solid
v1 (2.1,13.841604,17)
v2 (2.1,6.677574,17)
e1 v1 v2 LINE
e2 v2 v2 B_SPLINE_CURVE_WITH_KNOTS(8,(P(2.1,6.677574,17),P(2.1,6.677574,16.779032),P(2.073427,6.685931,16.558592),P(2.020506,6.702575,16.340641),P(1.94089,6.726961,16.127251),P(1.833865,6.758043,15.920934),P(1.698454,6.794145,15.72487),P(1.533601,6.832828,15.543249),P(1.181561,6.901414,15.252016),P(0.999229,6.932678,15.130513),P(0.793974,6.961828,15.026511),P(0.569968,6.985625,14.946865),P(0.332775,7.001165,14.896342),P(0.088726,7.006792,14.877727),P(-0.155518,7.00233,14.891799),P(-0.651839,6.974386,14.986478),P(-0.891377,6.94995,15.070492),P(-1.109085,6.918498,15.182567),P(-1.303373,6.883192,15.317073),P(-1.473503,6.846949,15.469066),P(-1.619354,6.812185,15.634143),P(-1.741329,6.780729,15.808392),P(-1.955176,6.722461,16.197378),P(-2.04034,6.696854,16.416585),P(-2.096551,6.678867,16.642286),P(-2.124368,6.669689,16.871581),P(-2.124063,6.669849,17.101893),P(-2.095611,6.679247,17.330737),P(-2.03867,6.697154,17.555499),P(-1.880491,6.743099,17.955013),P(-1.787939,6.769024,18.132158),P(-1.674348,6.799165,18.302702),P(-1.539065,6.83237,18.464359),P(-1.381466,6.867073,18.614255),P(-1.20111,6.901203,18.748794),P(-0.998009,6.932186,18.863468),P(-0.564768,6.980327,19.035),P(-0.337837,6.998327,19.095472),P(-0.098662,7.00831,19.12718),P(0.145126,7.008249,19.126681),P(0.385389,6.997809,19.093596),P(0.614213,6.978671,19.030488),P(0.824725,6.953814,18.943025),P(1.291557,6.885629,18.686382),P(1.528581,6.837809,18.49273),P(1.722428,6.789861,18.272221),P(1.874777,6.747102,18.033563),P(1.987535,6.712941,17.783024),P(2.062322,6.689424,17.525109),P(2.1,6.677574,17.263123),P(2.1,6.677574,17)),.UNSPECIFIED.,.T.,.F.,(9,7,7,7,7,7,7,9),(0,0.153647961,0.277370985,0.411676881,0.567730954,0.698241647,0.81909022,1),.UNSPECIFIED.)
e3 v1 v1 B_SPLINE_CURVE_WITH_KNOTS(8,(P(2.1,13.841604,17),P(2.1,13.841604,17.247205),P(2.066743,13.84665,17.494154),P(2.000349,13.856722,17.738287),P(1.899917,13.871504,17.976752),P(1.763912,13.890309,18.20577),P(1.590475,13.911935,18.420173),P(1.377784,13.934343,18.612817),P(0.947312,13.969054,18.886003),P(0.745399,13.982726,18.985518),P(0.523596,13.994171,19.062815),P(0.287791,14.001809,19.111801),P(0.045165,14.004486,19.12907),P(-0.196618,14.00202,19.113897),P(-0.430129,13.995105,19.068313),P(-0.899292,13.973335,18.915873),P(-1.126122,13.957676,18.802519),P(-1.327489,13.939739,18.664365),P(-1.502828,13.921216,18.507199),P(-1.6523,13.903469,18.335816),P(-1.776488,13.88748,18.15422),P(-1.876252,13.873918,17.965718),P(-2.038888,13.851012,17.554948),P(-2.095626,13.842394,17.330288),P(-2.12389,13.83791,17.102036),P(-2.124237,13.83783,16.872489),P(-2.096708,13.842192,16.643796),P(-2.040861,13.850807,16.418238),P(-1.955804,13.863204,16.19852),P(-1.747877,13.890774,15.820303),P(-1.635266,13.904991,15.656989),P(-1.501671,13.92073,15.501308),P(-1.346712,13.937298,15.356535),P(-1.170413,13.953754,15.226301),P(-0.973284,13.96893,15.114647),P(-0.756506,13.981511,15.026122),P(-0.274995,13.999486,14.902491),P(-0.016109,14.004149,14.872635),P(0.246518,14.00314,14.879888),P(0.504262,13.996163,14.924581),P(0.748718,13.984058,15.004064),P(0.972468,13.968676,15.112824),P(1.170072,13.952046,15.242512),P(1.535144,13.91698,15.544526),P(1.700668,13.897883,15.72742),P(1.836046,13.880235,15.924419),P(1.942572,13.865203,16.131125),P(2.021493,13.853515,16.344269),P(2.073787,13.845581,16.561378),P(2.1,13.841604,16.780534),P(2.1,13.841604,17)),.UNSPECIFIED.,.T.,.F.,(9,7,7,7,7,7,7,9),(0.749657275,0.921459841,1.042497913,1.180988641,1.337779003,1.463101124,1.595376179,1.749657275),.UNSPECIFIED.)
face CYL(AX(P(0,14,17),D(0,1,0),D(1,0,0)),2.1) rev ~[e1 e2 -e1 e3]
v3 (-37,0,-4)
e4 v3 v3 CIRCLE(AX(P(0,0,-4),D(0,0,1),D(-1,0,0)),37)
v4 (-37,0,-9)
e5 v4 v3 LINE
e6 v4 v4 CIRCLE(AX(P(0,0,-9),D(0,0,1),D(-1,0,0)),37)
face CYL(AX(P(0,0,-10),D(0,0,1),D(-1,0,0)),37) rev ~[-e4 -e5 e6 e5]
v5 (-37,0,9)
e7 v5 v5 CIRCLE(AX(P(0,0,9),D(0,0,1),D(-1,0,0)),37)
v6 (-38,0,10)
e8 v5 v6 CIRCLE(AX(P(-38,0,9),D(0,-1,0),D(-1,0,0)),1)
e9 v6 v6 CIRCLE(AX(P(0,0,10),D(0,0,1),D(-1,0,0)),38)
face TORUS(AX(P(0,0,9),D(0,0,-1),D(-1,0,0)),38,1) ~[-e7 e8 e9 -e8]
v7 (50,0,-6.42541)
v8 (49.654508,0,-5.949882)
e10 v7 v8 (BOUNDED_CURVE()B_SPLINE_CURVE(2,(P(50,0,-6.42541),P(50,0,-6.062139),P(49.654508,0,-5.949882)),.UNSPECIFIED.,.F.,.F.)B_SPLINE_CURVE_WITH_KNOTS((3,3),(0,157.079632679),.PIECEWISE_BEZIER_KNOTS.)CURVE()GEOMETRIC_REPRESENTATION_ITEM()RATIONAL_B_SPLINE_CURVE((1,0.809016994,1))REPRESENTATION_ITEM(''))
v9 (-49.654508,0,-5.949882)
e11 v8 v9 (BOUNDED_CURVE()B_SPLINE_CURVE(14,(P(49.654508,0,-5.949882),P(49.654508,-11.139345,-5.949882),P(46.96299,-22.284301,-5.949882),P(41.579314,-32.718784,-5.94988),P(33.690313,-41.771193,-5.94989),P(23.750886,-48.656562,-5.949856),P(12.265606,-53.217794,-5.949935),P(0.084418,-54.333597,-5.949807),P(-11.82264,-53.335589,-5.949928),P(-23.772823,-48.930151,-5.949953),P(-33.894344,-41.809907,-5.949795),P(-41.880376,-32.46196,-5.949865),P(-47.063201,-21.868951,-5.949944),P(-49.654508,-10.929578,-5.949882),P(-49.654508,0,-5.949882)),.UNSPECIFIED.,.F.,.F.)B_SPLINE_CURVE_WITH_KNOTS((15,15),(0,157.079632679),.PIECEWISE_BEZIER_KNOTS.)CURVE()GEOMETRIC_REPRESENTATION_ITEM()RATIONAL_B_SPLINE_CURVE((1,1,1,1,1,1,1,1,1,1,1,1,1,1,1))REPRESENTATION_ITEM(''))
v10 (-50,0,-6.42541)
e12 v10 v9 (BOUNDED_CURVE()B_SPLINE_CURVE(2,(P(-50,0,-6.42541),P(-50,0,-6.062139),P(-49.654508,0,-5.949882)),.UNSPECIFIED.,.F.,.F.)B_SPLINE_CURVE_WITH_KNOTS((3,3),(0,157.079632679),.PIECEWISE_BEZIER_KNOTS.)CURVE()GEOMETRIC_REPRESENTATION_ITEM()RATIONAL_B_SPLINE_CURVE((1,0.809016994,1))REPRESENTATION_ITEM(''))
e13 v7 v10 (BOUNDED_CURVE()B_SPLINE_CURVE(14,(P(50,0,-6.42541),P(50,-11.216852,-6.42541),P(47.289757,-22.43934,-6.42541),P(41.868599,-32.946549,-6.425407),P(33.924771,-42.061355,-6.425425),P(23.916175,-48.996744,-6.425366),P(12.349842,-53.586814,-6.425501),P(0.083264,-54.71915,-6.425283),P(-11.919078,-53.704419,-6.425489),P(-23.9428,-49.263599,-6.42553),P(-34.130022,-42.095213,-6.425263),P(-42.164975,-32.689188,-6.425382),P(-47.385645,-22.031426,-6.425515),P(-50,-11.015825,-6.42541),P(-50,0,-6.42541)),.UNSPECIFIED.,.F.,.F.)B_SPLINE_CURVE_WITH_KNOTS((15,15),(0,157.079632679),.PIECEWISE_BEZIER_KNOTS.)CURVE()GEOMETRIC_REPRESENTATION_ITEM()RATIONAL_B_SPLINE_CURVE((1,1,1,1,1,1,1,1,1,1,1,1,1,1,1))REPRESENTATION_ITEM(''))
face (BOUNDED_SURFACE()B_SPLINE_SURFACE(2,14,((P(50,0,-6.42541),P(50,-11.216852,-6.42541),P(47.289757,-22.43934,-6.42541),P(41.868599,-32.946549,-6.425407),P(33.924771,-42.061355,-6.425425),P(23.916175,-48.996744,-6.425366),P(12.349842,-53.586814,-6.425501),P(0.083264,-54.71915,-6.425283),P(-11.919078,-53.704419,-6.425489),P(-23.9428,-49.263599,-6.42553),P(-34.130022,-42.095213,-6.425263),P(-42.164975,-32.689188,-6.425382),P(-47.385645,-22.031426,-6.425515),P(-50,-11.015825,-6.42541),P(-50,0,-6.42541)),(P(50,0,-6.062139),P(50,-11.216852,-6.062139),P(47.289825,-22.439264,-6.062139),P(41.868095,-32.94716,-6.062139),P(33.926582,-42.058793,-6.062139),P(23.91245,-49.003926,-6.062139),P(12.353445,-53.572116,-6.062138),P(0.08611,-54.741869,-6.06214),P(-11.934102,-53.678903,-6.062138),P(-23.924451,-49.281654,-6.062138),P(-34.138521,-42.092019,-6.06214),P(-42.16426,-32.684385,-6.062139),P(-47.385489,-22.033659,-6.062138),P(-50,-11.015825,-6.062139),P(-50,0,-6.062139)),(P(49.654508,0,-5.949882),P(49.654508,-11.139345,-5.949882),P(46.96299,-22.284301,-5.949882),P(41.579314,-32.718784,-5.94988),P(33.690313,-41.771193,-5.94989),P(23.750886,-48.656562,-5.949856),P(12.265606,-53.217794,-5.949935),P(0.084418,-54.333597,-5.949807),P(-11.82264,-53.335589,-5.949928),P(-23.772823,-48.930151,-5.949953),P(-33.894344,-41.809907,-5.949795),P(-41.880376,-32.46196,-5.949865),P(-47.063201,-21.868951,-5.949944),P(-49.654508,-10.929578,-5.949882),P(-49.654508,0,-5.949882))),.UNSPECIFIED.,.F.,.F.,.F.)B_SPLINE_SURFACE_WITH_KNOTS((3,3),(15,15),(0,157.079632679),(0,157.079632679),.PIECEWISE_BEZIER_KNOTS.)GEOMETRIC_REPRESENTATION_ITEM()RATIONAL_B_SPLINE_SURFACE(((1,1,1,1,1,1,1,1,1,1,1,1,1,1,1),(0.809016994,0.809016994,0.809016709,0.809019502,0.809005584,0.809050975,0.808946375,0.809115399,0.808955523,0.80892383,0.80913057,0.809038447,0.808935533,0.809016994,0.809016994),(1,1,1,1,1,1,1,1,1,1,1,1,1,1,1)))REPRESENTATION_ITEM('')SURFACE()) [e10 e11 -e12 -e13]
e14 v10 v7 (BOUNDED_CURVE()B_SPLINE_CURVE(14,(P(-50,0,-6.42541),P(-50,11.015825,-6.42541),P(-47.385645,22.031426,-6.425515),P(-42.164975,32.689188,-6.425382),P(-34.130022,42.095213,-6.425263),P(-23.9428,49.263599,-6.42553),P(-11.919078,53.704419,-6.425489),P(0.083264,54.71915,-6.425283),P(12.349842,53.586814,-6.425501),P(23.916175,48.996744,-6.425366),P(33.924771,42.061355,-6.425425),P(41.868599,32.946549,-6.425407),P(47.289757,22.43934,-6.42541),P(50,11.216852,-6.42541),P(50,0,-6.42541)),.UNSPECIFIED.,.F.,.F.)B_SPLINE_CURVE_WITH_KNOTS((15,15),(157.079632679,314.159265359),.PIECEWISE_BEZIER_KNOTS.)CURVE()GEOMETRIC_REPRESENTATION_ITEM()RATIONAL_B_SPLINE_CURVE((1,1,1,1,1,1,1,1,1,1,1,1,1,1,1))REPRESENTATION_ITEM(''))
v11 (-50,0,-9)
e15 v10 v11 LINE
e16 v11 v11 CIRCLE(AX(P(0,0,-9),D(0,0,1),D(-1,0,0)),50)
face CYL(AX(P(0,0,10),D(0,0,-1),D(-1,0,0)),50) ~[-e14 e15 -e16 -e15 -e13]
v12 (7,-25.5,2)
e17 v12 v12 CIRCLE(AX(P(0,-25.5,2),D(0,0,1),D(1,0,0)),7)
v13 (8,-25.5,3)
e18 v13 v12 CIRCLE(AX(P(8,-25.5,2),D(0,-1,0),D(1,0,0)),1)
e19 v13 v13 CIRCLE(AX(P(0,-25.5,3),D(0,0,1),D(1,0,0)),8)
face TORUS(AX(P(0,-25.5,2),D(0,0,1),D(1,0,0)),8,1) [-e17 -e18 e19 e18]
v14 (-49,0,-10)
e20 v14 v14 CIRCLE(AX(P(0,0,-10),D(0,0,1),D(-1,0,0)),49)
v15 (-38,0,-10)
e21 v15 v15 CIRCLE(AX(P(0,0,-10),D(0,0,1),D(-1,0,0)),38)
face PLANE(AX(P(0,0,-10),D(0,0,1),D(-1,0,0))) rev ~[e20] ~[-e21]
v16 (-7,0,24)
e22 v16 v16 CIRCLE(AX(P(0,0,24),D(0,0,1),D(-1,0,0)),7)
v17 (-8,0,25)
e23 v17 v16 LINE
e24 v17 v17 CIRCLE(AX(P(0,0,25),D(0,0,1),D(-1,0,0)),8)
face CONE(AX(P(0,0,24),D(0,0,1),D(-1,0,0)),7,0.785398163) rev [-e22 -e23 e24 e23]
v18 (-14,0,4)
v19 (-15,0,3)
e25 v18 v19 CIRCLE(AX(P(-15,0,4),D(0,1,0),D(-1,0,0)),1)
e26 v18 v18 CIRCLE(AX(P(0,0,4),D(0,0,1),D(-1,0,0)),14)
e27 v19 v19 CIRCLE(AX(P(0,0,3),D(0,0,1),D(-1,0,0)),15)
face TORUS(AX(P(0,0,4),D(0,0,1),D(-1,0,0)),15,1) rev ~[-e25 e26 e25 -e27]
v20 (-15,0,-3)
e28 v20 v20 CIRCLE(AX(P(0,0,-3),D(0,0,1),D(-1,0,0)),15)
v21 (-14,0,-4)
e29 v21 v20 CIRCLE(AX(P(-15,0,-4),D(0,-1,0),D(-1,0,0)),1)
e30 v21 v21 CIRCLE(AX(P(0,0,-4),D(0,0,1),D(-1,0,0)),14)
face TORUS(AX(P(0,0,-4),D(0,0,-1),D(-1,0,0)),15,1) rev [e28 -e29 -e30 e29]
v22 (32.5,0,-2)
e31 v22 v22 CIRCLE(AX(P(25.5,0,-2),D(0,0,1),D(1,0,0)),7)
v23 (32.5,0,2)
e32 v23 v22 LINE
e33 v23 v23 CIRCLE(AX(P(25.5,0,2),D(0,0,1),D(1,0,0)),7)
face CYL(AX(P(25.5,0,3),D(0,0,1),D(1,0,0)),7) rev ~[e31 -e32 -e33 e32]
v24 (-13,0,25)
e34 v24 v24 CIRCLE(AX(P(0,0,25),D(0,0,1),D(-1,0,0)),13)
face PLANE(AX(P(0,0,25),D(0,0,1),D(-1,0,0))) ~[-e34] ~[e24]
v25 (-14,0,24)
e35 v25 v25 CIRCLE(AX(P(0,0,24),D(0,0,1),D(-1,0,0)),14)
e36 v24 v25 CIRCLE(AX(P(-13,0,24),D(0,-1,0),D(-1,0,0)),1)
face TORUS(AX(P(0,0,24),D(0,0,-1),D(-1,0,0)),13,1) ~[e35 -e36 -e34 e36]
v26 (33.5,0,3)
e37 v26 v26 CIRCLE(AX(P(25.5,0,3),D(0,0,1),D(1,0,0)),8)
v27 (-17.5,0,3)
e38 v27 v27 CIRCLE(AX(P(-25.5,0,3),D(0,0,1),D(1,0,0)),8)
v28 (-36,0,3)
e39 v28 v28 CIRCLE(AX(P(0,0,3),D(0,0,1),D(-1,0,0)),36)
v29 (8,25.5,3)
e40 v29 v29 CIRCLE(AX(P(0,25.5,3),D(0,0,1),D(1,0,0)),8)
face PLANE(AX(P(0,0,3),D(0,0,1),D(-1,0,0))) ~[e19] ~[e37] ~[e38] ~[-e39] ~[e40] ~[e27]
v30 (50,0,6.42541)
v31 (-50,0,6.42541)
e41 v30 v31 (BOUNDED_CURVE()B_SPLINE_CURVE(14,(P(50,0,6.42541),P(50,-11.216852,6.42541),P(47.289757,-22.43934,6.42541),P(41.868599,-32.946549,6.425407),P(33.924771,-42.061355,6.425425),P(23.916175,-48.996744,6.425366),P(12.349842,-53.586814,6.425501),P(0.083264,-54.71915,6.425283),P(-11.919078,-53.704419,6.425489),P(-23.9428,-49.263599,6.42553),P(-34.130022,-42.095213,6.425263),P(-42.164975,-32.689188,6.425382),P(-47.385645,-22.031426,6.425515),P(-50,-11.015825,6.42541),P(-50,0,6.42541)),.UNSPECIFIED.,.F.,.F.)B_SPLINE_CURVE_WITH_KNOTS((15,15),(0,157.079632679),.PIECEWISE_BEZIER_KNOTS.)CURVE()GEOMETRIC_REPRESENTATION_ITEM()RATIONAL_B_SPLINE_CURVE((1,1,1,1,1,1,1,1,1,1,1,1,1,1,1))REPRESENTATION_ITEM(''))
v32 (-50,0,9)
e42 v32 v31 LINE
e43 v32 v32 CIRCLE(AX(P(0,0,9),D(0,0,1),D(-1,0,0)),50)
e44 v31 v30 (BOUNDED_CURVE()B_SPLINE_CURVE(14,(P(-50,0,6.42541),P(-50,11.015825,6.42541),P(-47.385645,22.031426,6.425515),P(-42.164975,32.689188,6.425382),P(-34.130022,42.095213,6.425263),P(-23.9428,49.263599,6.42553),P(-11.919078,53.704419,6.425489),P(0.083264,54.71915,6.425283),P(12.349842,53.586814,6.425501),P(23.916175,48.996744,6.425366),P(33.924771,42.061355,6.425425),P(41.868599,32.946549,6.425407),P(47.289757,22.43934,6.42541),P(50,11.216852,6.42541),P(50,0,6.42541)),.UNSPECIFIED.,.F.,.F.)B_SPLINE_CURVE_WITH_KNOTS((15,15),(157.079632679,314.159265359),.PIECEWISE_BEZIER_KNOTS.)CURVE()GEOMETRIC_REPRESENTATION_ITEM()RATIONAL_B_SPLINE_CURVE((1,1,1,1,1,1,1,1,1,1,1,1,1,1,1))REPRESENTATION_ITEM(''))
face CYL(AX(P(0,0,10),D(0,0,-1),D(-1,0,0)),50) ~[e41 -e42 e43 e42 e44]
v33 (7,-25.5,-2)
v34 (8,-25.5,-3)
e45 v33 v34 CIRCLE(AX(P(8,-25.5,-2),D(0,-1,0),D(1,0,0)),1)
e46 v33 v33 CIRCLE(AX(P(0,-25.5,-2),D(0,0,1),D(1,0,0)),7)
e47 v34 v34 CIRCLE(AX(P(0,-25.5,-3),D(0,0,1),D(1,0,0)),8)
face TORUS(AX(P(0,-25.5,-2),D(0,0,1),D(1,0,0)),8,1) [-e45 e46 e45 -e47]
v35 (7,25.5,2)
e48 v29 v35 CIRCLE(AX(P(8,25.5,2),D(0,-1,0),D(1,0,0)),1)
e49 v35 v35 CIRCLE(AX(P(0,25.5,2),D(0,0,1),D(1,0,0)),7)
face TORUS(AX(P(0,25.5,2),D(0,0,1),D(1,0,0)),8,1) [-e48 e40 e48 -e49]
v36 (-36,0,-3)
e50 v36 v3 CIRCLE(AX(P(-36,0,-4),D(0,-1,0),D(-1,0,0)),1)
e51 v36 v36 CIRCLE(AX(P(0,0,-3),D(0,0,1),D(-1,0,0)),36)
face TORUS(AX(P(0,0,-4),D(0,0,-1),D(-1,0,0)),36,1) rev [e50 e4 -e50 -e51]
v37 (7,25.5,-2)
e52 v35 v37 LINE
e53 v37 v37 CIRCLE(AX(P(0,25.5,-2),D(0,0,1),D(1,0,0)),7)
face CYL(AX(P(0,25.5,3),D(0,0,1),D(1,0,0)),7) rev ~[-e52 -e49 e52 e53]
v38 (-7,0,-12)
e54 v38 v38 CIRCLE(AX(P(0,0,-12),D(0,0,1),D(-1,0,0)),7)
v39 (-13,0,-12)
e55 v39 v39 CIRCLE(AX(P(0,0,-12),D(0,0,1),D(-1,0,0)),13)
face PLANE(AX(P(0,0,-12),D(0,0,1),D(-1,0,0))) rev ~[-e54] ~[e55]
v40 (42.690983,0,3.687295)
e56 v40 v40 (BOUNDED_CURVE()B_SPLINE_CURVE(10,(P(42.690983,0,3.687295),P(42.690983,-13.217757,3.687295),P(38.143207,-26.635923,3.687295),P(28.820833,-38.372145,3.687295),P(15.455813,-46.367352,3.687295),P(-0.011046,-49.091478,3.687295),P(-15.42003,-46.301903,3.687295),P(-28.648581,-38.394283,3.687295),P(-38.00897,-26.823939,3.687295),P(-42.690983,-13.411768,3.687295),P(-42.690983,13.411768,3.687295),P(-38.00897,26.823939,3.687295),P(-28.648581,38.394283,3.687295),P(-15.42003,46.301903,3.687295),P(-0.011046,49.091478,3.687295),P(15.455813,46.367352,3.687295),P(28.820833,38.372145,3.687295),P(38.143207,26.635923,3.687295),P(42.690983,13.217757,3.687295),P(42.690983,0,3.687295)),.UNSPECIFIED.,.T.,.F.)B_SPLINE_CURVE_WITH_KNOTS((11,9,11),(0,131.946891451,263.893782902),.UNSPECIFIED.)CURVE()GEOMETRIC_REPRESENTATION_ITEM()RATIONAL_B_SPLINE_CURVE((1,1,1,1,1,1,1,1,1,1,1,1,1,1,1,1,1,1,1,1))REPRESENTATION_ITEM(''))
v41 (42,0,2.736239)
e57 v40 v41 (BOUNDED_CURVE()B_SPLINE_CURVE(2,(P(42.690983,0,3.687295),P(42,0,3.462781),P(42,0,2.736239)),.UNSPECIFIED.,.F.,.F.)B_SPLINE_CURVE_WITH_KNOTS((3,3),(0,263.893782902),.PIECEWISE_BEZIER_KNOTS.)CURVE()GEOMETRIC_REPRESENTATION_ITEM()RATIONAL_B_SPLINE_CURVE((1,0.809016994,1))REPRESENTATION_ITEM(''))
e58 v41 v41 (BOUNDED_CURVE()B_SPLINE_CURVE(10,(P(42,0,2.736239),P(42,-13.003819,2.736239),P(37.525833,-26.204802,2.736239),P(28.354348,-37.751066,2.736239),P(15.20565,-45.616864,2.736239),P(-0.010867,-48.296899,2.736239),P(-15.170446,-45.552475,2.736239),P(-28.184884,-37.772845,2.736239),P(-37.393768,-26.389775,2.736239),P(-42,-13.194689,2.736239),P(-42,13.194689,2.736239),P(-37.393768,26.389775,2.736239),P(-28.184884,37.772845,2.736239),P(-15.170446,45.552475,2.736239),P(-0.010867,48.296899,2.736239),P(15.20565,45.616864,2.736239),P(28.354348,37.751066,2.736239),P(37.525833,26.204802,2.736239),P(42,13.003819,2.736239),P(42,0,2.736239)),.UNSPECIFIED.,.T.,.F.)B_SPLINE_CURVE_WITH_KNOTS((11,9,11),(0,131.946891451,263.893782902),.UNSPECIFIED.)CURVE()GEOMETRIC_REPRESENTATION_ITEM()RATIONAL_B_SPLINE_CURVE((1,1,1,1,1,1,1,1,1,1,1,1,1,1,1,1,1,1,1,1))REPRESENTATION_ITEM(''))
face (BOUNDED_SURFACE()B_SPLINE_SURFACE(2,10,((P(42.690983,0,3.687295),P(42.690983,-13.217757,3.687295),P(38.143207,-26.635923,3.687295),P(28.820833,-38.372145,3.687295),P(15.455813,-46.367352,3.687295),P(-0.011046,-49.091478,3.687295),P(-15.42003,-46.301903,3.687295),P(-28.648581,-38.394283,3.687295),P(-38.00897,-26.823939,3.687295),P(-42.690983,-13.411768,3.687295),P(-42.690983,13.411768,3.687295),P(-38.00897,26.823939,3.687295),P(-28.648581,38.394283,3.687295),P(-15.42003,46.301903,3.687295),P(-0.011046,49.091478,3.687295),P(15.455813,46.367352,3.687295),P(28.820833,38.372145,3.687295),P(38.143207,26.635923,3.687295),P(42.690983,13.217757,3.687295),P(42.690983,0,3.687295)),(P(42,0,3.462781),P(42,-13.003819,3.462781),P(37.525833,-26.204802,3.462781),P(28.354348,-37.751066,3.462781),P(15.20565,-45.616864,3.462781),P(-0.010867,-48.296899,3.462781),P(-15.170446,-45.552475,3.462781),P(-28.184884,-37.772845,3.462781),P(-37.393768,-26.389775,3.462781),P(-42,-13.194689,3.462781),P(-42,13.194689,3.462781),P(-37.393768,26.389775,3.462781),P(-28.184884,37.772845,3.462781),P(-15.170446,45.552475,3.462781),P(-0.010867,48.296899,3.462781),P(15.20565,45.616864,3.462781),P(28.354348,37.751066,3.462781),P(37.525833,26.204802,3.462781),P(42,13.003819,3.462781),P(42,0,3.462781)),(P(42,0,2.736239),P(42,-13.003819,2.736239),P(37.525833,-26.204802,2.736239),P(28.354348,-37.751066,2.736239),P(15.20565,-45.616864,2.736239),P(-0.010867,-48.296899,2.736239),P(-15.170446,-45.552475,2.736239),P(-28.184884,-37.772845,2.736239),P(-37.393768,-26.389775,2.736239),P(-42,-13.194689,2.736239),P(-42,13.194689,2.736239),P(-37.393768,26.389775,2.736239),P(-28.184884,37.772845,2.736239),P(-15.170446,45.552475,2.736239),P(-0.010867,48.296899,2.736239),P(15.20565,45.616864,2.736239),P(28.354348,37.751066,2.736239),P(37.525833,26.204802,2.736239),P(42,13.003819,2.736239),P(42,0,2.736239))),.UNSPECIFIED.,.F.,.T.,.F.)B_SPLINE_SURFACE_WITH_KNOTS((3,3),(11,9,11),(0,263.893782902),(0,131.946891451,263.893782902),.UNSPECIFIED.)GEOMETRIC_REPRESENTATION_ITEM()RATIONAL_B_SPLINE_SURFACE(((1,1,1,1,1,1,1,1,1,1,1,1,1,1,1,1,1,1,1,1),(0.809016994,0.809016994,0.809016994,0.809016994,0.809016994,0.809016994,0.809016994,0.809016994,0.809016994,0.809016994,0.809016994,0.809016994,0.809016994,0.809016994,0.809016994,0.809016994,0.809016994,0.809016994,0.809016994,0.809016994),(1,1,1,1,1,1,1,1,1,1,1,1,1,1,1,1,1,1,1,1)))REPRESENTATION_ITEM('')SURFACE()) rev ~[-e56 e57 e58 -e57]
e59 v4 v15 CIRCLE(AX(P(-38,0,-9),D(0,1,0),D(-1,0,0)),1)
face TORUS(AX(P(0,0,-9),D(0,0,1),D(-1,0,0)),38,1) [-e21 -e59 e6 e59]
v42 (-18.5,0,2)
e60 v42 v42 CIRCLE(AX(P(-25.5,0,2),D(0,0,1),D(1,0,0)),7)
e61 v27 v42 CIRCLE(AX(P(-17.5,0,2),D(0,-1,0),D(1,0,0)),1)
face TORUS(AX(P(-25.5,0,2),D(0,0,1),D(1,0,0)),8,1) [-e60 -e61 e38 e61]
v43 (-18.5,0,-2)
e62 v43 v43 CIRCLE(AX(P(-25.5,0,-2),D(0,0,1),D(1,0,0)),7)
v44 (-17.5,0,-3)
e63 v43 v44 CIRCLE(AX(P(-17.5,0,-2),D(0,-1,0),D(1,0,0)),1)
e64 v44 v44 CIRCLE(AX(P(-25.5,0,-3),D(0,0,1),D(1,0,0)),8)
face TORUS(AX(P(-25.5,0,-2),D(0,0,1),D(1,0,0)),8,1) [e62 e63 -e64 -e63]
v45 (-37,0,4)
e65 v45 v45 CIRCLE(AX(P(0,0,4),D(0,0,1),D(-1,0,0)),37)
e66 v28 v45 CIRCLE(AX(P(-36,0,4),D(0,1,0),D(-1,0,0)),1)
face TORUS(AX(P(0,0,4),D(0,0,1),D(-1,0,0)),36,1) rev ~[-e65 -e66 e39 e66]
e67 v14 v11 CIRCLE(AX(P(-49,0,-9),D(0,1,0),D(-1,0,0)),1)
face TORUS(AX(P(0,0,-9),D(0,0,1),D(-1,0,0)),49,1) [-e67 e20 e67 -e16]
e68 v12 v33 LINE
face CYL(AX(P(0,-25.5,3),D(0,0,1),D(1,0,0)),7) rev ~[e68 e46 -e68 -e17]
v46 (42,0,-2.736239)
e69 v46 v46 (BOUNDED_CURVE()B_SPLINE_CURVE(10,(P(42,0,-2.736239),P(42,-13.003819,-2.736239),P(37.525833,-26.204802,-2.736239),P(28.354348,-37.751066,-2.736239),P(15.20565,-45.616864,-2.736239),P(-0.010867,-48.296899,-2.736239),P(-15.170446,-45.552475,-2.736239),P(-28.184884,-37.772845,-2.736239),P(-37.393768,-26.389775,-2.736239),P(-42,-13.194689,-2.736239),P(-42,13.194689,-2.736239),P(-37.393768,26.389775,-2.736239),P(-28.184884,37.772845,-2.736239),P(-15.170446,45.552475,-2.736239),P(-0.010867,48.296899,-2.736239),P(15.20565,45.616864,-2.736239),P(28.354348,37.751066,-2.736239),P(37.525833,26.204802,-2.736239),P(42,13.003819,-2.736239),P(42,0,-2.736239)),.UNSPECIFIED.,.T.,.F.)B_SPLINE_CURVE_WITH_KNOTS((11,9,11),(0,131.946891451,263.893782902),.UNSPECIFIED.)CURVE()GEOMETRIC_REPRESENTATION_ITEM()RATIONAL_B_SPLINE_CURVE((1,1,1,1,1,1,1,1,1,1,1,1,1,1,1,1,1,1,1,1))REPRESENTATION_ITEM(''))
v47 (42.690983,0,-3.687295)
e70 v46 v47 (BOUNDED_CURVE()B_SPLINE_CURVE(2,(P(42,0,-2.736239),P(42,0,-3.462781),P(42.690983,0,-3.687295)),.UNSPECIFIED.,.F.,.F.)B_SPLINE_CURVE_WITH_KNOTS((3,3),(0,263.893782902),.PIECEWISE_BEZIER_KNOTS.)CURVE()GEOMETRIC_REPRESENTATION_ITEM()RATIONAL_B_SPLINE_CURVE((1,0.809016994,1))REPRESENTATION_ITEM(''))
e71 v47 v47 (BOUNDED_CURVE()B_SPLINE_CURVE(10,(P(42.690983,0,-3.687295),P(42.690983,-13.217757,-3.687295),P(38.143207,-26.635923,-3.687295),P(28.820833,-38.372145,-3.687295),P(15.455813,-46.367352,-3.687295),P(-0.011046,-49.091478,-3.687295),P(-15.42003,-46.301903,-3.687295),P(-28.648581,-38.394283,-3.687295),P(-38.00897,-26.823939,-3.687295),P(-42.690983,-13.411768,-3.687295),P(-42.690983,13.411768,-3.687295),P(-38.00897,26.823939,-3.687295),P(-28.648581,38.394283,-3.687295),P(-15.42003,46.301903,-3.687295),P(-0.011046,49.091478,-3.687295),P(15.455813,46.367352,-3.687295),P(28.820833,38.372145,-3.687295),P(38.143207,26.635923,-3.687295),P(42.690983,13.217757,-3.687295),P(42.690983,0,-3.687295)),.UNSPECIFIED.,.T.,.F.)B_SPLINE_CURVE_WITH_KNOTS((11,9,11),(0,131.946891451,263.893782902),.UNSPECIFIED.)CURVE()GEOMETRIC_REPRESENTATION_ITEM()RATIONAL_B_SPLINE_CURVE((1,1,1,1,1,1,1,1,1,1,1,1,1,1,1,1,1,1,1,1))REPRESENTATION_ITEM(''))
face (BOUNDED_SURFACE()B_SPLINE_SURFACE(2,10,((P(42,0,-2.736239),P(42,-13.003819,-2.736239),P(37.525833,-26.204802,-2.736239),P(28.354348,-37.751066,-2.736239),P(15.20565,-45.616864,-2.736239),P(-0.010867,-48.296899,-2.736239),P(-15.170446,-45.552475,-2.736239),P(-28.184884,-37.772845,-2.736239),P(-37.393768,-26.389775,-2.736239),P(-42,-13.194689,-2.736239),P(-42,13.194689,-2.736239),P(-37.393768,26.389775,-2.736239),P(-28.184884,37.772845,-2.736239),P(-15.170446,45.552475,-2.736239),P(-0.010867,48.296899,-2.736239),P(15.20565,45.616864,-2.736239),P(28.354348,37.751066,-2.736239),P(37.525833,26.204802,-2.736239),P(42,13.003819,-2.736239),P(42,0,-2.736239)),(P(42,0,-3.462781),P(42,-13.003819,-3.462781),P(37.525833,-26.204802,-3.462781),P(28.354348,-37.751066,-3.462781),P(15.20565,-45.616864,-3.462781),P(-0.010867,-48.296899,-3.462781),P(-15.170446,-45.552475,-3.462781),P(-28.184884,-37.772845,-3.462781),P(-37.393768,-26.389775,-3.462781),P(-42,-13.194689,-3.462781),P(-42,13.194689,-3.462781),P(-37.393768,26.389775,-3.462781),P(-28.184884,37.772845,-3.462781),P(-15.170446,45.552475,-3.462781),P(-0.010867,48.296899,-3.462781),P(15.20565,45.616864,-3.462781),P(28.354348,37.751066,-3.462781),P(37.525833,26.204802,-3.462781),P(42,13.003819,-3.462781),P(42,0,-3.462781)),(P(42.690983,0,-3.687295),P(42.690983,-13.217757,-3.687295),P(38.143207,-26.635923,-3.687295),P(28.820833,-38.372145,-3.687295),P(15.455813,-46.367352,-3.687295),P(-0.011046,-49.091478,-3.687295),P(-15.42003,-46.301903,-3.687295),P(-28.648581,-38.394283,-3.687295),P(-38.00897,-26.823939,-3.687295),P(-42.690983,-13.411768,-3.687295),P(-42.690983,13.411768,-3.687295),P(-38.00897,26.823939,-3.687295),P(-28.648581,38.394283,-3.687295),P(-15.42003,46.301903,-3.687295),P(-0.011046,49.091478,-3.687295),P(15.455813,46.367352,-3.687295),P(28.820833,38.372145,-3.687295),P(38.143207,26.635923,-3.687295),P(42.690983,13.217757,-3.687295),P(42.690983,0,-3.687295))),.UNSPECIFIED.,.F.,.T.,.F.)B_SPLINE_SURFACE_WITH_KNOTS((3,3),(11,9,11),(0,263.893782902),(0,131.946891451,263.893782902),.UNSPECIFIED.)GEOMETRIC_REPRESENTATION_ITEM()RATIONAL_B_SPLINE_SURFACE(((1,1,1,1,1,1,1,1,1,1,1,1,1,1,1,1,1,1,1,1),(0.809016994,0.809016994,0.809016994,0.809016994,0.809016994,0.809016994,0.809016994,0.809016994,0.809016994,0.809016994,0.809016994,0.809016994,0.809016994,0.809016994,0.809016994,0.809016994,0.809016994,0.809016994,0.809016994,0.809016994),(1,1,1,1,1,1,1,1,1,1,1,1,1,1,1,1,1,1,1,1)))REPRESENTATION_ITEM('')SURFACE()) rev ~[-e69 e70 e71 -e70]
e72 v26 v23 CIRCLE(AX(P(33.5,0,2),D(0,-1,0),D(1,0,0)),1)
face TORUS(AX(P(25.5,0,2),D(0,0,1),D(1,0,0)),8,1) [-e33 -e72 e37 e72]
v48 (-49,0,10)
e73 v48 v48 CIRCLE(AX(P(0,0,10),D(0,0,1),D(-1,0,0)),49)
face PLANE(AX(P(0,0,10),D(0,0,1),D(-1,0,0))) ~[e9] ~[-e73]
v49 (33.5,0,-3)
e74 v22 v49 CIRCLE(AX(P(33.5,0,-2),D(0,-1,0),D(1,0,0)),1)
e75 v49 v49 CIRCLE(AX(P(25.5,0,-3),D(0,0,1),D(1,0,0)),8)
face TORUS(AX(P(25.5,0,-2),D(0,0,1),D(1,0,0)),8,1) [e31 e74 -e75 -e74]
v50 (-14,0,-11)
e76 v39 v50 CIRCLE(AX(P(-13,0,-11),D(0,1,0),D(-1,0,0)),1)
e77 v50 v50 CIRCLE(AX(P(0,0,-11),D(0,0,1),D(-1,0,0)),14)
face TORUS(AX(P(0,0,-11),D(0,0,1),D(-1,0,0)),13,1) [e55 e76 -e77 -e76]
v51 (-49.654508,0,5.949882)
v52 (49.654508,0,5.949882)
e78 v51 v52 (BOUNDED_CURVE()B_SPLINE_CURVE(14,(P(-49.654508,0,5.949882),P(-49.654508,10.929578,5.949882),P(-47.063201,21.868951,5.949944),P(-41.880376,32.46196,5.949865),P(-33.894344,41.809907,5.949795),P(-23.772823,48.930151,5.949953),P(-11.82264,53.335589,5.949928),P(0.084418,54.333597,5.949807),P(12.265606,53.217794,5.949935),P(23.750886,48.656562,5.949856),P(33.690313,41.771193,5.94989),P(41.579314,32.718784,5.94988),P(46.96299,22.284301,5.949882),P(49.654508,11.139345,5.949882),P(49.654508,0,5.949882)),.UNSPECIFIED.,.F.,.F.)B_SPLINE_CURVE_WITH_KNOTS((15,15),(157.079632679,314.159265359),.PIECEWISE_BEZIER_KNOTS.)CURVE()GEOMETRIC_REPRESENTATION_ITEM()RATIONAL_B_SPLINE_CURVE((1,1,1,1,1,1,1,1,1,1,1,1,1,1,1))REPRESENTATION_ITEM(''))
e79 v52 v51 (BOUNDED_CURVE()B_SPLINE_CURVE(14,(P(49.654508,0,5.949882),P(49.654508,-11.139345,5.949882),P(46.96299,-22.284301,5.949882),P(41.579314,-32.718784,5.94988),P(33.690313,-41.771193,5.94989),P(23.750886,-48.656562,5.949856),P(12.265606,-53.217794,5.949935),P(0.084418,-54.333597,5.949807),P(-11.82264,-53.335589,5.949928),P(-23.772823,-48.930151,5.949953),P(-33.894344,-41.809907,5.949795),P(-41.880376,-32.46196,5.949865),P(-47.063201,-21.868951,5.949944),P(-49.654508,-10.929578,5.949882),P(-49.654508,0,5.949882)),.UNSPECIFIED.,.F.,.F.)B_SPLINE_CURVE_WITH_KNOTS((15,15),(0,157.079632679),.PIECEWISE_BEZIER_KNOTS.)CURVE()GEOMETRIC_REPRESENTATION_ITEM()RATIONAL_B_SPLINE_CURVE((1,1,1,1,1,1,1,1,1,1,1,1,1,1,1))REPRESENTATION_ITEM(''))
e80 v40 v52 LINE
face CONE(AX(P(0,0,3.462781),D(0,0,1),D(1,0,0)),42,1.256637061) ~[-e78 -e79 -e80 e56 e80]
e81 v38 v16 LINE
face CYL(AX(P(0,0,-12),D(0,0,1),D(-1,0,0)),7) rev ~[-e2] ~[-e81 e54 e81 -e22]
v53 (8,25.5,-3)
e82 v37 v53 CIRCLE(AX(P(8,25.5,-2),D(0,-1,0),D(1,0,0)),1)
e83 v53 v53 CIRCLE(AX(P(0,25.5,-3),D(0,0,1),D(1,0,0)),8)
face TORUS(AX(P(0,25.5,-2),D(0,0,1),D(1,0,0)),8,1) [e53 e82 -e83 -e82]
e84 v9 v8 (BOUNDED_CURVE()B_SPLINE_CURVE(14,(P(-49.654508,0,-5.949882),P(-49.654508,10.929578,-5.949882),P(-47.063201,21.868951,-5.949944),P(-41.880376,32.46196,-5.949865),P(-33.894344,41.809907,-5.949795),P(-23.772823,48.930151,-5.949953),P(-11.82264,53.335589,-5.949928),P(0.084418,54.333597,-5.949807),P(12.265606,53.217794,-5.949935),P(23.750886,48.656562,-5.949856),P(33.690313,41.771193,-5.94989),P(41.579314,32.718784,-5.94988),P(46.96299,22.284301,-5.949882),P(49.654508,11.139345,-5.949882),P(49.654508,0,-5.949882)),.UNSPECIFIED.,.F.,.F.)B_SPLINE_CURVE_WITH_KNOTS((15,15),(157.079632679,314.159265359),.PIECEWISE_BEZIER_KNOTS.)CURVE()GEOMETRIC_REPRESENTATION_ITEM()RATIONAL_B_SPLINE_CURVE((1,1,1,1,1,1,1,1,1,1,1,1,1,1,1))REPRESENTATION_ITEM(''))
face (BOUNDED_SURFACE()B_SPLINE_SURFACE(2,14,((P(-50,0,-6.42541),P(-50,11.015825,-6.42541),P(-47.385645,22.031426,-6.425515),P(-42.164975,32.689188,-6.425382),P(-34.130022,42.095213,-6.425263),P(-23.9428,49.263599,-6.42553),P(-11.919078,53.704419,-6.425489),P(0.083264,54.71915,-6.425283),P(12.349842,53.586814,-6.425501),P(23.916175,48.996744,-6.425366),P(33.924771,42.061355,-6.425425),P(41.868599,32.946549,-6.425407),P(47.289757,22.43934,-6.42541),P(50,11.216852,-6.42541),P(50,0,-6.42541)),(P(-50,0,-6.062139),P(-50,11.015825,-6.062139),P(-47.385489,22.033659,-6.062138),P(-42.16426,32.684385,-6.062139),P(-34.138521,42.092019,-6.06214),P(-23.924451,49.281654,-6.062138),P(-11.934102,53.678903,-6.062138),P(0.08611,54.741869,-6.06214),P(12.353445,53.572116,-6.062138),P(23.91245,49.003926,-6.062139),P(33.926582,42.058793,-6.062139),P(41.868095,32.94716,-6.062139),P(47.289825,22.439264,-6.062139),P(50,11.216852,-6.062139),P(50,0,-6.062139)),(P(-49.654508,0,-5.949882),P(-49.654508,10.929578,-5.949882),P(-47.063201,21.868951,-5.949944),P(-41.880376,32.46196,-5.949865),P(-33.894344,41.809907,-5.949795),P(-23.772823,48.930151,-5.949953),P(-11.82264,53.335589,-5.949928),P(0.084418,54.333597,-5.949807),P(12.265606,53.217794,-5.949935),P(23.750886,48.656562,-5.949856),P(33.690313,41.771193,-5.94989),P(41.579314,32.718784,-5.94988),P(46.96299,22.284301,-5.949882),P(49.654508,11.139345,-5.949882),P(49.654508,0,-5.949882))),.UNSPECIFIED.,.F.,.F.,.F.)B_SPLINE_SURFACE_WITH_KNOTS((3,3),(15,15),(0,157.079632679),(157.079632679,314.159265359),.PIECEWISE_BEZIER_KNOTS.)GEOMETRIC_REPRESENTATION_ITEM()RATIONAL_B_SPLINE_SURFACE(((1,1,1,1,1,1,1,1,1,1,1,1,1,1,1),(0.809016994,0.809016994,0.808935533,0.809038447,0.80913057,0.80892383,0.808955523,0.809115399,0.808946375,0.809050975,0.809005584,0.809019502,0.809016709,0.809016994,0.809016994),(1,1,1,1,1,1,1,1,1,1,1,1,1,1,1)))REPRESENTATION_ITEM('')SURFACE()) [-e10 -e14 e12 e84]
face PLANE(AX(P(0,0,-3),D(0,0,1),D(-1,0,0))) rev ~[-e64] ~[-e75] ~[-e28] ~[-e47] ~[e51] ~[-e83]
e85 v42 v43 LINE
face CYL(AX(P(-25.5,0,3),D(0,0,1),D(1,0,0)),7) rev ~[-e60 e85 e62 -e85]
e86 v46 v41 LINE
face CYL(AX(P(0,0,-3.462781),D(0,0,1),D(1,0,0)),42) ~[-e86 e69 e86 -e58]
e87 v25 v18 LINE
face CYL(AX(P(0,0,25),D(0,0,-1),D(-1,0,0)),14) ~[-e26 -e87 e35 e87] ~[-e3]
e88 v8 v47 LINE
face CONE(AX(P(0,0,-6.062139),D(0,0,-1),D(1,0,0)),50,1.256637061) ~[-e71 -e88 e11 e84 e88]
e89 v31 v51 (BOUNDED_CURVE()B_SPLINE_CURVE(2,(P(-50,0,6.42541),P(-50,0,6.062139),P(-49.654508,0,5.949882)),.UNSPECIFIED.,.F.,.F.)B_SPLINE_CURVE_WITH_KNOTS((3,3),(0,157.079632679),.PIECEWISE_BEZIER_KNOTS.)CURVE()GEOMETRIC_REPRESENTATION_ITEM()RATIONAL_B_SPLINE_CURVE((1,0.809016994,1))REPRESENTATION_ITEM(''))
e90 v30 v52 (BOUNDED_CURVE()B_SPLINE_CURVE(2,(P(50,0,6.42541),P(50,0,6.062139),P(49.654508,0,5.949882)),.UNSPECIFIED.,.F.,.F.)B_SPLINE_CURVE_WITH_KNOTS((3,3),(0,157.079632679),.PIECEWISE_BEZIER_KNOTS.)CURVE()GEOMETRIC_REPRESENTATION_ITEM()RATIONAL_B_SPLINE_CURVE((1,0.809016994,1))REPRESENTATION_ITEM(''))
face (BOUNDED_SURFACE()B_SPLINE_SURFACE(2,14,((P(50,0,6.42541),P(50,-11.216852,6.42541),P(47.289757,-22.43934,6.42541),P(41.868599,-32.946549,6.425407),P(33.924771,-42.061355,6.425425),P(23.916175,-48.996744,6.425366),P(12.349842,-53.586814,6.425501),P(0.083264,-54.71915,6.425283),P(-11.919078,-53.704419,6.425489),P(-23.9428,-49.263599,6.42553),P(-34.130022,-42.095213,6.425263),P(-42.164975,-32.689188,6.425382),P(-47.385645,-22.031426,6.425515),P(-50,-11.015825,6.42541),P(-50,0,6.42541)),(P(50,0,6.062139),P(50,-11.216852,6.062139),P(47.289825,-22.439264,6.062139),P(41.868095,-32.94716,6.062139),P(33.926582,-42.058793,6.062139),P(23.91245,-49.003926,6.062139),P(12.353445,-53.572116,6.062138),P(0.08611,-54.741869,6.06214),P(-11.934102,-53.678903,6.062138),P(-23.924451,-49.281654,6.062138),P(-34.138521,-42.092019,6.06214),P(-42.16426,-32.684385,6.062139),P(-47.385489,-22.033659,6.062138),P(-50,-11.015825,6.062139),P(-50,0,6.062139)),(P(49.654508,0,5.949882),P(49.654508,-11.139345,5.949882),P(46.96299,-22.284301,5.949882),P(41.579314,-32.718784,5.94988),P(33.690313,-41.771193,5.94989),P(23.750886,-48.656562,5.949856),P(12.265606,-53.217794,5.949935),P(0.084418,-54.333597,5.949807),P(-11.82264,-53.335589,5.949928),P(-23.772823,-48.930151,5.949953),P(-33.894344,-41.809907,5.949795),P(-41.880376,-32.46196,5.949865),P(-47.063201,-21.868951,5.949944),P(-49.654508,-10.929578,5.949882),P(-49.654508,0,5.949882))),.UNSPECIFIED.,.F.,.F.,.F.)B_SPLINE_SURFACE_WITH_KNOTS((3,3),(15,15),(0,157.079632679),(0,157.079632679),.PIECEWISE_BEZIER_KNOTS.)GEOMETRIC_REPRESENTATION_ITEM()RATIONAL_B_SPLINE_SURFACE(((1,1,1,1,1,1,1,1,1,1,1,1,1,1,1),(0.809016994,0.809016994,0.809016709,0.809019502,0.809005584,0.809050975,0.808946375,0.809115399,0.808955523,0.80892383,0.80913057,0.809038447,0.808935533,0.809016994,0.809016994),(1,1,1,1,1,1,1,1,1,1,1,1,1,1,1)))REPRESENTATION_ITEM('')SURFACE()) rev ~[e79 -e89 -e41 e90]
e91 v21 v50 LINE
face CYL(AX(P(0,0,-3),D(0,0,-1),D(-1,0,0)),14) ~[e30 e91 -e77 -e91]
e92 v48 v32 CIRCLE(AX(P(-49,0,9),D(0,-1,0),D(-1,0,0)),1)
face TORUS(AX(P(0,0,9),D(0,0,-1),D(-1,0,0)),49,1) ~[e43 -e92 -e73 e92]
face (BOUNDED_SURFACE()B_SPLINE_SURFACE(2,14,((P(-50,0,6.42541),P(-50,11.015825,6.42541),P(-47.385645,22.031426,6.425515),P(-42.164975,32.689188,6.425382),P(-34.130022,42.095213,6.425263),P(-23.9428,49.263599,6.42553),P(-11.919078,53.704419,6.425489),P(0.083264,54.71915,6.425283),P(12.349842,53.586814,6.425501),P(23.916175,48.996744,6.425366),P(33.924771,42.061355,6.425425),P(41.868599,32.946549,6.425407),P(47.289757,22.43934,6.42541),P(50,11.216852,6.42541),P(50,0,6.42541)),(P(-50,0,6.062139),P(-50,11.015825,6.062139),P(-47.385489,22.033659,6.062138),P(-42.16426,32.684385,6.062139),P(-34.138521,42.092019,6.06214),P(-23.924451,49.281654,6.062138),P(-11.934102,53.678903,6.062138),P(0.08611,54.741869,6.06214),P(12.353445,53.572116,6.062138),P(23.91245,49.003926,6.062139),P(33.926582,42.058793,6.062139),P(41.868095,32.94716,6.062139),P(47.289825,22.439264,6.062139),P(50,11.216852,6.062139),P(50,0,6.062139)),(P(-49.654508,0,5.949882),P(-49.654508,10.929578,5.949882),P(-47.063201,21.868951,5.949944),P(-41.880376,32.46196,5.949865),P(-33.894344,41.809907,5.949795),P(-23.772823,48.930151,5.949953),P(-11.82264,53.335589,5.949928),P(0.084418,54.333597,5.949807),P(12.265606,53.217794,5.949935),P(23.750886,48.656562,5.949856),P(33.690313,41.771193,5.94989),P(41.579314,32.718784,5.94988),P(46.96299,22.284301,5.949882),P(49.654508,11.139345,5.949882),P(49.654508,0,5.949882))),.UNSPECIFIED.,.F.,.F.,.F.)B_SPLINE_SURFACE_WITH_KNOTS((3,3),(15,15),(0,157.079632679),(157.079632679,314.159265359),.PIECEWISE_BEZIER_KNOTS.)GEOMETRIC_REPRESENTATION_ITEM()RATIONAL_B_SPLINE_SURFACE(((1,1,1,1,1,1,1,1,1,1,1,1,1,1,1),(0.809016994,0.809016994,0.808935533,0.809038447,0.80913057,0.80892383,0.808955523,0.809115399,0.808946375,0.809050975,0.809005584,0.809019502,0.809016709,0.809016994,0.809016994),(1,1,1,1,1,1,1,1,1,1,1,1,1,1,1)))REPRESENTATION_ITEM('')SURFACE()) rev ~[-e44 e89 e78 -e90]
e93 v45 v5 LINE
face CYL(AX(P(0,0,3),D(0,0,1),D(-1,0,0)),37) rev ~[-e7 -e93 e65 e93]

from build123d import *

# Parameters (mm, degrees)
SKETCH_4_R              = 7
CUT_EXTRUDE_1_DEPTH     = 75.054034326
CHAMFER_1_SIZE          = 1
HOLE_WIZARD_M5_1_REACH  = 88.238
HOLE_WIZARD_M5_1_BORE_R = 2.1
FILLET_1_R              = 1
FILLET_2_R              = 0.5


with BuildPart() as part:
    # 草圖1 → 旋轉1 (revolve)
    with BuildSketch(Plane(origin=(0, 0, 0), x_dir=(0, 0, -1), z_dir=(1, 0, 0)), mode=Mode.PRIVATE) as revolve_1_sk:
        Polygon((-3, 14), (-3, 37), (-10, 37), (-10, 50), (10, 50), (10, 37), (3, 37), (3, 14), (12, 14), (12, 7), (-25, 7), (-25, 14), align=None)
    revolve(revolve_1_sk.sketch.rotate(Axis((0, 0, 0), (0, 0, 1)), 90), axis=Axis((0, 0, 0), (0, 0, 1)))

    # 草圖3 → 除料-旋轉1 (revolve, cut)
    with BuildSketch(Plane(origin=(0, 0, 0), x_dir=(0, 0, -1), z_dir=(1, 0, 0)), mode=Mode.PRIVATE) as cut_revolve_1_sk:
        Polygon((-6.062138633, 50), (6.062138633, 50), (3.462781063, 42), (-3.462781063, 42), align=None)
    revolve(cut_revolve_1_sk.sketch.rotate(Axis((0, 0, 0), (0, 0, -1)), 90), axis=Axis((0, 0, 0), (0, 0, -1)), mode=Mode.SUBTRACT)

    # 草圖4 → 除料-伸長1 (cut, through all)
    with BuildSketch(Plane.XY.offset(3)):
        with Locations((0, 25.5)):
            Circle(SKETCH_4_R)
        with Locations((25.5, 0)):
            Circle(SKETCH_4_R)
        with Locations((0, -25.5)):
            Circle(SKETCH_4_R)
        with Locations((-25.5, 0)):
            Circle(SKETCH_4_R)
    extrude(amount=-CUT_EXTRUDE_1_DEPTH, mode=Mode.SUBTRACT)

    # 導角1
    chamfer_1_edges = [part.edges().sort_by_distance(p)[0] for p in [
        (7, 0, 25),
    ]]
    chamfer(chamfer_1_edges, length=CHAMFER_1_SIZE)

    # M5 螺紋孔1 bore (on position points) → M5 螺紋孔1 (cut, up to next)
    with BuildSketch(Plane(origin=(0, 14, 17), x_dir=(1, 0, 0), z_dir=(0, 1, 0)), mode=Mode.PRIVATE) as hole_wizard_m5_1_sk1:
        Circle(HOLE_WIZARD_M5_1_BORE_R)
    hole_wizard_m5_1_tool1 = extrude(hole_wizard_m5_1_sk1.sketch, amount=-HOLE_WIZARD_M5_1_REACH, mode=Mode.PRIVATE) & part.part
    add(hole_wizard_m5_1_tool1.solids().sort_by_distance((0, 14, 17))[0], mode=Mode.SUBTRACT)

    # 圓角1
    fillet_1_edges = [part.edges().sort_by_distance(p)[0] for p in [
        (50, 0, -10),
        (50, 0, 10),
        (37, 0, 10),
        (37, 0, 3),
        (14, 0, 3),
        (14, 0, 25),
        (-42, 0, -3.462781063),
        (-42, 0, 3.462781063),
        (-7, 25.5, -3),
        (-7, 25.5, 3),
        (18.5, 0, -3),
        (18.5, 0, 3),
        (-7, -25.5, -3),
        (-7, -25.5, 3),
        (-32.5, 0, -3),
        (-32.5, 0, 3),
        (14, 0, -12),
        (14, 0, -3),
        (37, 0, -3),
        (37, 0, -10),
    ]]
    fillet(fillet_1_edges, radius=FILLET_1_R)

    # 圓角2
    fillet_2_edges = [part.edges().sort_by_distance(p)[0] for p in [
        (0, -50, 6.062138633),
        (0, -50, -6.062138633),
    ]]
    fillet(fillet_2_edges, radius=FILLET_2_R)


solid = part.part
